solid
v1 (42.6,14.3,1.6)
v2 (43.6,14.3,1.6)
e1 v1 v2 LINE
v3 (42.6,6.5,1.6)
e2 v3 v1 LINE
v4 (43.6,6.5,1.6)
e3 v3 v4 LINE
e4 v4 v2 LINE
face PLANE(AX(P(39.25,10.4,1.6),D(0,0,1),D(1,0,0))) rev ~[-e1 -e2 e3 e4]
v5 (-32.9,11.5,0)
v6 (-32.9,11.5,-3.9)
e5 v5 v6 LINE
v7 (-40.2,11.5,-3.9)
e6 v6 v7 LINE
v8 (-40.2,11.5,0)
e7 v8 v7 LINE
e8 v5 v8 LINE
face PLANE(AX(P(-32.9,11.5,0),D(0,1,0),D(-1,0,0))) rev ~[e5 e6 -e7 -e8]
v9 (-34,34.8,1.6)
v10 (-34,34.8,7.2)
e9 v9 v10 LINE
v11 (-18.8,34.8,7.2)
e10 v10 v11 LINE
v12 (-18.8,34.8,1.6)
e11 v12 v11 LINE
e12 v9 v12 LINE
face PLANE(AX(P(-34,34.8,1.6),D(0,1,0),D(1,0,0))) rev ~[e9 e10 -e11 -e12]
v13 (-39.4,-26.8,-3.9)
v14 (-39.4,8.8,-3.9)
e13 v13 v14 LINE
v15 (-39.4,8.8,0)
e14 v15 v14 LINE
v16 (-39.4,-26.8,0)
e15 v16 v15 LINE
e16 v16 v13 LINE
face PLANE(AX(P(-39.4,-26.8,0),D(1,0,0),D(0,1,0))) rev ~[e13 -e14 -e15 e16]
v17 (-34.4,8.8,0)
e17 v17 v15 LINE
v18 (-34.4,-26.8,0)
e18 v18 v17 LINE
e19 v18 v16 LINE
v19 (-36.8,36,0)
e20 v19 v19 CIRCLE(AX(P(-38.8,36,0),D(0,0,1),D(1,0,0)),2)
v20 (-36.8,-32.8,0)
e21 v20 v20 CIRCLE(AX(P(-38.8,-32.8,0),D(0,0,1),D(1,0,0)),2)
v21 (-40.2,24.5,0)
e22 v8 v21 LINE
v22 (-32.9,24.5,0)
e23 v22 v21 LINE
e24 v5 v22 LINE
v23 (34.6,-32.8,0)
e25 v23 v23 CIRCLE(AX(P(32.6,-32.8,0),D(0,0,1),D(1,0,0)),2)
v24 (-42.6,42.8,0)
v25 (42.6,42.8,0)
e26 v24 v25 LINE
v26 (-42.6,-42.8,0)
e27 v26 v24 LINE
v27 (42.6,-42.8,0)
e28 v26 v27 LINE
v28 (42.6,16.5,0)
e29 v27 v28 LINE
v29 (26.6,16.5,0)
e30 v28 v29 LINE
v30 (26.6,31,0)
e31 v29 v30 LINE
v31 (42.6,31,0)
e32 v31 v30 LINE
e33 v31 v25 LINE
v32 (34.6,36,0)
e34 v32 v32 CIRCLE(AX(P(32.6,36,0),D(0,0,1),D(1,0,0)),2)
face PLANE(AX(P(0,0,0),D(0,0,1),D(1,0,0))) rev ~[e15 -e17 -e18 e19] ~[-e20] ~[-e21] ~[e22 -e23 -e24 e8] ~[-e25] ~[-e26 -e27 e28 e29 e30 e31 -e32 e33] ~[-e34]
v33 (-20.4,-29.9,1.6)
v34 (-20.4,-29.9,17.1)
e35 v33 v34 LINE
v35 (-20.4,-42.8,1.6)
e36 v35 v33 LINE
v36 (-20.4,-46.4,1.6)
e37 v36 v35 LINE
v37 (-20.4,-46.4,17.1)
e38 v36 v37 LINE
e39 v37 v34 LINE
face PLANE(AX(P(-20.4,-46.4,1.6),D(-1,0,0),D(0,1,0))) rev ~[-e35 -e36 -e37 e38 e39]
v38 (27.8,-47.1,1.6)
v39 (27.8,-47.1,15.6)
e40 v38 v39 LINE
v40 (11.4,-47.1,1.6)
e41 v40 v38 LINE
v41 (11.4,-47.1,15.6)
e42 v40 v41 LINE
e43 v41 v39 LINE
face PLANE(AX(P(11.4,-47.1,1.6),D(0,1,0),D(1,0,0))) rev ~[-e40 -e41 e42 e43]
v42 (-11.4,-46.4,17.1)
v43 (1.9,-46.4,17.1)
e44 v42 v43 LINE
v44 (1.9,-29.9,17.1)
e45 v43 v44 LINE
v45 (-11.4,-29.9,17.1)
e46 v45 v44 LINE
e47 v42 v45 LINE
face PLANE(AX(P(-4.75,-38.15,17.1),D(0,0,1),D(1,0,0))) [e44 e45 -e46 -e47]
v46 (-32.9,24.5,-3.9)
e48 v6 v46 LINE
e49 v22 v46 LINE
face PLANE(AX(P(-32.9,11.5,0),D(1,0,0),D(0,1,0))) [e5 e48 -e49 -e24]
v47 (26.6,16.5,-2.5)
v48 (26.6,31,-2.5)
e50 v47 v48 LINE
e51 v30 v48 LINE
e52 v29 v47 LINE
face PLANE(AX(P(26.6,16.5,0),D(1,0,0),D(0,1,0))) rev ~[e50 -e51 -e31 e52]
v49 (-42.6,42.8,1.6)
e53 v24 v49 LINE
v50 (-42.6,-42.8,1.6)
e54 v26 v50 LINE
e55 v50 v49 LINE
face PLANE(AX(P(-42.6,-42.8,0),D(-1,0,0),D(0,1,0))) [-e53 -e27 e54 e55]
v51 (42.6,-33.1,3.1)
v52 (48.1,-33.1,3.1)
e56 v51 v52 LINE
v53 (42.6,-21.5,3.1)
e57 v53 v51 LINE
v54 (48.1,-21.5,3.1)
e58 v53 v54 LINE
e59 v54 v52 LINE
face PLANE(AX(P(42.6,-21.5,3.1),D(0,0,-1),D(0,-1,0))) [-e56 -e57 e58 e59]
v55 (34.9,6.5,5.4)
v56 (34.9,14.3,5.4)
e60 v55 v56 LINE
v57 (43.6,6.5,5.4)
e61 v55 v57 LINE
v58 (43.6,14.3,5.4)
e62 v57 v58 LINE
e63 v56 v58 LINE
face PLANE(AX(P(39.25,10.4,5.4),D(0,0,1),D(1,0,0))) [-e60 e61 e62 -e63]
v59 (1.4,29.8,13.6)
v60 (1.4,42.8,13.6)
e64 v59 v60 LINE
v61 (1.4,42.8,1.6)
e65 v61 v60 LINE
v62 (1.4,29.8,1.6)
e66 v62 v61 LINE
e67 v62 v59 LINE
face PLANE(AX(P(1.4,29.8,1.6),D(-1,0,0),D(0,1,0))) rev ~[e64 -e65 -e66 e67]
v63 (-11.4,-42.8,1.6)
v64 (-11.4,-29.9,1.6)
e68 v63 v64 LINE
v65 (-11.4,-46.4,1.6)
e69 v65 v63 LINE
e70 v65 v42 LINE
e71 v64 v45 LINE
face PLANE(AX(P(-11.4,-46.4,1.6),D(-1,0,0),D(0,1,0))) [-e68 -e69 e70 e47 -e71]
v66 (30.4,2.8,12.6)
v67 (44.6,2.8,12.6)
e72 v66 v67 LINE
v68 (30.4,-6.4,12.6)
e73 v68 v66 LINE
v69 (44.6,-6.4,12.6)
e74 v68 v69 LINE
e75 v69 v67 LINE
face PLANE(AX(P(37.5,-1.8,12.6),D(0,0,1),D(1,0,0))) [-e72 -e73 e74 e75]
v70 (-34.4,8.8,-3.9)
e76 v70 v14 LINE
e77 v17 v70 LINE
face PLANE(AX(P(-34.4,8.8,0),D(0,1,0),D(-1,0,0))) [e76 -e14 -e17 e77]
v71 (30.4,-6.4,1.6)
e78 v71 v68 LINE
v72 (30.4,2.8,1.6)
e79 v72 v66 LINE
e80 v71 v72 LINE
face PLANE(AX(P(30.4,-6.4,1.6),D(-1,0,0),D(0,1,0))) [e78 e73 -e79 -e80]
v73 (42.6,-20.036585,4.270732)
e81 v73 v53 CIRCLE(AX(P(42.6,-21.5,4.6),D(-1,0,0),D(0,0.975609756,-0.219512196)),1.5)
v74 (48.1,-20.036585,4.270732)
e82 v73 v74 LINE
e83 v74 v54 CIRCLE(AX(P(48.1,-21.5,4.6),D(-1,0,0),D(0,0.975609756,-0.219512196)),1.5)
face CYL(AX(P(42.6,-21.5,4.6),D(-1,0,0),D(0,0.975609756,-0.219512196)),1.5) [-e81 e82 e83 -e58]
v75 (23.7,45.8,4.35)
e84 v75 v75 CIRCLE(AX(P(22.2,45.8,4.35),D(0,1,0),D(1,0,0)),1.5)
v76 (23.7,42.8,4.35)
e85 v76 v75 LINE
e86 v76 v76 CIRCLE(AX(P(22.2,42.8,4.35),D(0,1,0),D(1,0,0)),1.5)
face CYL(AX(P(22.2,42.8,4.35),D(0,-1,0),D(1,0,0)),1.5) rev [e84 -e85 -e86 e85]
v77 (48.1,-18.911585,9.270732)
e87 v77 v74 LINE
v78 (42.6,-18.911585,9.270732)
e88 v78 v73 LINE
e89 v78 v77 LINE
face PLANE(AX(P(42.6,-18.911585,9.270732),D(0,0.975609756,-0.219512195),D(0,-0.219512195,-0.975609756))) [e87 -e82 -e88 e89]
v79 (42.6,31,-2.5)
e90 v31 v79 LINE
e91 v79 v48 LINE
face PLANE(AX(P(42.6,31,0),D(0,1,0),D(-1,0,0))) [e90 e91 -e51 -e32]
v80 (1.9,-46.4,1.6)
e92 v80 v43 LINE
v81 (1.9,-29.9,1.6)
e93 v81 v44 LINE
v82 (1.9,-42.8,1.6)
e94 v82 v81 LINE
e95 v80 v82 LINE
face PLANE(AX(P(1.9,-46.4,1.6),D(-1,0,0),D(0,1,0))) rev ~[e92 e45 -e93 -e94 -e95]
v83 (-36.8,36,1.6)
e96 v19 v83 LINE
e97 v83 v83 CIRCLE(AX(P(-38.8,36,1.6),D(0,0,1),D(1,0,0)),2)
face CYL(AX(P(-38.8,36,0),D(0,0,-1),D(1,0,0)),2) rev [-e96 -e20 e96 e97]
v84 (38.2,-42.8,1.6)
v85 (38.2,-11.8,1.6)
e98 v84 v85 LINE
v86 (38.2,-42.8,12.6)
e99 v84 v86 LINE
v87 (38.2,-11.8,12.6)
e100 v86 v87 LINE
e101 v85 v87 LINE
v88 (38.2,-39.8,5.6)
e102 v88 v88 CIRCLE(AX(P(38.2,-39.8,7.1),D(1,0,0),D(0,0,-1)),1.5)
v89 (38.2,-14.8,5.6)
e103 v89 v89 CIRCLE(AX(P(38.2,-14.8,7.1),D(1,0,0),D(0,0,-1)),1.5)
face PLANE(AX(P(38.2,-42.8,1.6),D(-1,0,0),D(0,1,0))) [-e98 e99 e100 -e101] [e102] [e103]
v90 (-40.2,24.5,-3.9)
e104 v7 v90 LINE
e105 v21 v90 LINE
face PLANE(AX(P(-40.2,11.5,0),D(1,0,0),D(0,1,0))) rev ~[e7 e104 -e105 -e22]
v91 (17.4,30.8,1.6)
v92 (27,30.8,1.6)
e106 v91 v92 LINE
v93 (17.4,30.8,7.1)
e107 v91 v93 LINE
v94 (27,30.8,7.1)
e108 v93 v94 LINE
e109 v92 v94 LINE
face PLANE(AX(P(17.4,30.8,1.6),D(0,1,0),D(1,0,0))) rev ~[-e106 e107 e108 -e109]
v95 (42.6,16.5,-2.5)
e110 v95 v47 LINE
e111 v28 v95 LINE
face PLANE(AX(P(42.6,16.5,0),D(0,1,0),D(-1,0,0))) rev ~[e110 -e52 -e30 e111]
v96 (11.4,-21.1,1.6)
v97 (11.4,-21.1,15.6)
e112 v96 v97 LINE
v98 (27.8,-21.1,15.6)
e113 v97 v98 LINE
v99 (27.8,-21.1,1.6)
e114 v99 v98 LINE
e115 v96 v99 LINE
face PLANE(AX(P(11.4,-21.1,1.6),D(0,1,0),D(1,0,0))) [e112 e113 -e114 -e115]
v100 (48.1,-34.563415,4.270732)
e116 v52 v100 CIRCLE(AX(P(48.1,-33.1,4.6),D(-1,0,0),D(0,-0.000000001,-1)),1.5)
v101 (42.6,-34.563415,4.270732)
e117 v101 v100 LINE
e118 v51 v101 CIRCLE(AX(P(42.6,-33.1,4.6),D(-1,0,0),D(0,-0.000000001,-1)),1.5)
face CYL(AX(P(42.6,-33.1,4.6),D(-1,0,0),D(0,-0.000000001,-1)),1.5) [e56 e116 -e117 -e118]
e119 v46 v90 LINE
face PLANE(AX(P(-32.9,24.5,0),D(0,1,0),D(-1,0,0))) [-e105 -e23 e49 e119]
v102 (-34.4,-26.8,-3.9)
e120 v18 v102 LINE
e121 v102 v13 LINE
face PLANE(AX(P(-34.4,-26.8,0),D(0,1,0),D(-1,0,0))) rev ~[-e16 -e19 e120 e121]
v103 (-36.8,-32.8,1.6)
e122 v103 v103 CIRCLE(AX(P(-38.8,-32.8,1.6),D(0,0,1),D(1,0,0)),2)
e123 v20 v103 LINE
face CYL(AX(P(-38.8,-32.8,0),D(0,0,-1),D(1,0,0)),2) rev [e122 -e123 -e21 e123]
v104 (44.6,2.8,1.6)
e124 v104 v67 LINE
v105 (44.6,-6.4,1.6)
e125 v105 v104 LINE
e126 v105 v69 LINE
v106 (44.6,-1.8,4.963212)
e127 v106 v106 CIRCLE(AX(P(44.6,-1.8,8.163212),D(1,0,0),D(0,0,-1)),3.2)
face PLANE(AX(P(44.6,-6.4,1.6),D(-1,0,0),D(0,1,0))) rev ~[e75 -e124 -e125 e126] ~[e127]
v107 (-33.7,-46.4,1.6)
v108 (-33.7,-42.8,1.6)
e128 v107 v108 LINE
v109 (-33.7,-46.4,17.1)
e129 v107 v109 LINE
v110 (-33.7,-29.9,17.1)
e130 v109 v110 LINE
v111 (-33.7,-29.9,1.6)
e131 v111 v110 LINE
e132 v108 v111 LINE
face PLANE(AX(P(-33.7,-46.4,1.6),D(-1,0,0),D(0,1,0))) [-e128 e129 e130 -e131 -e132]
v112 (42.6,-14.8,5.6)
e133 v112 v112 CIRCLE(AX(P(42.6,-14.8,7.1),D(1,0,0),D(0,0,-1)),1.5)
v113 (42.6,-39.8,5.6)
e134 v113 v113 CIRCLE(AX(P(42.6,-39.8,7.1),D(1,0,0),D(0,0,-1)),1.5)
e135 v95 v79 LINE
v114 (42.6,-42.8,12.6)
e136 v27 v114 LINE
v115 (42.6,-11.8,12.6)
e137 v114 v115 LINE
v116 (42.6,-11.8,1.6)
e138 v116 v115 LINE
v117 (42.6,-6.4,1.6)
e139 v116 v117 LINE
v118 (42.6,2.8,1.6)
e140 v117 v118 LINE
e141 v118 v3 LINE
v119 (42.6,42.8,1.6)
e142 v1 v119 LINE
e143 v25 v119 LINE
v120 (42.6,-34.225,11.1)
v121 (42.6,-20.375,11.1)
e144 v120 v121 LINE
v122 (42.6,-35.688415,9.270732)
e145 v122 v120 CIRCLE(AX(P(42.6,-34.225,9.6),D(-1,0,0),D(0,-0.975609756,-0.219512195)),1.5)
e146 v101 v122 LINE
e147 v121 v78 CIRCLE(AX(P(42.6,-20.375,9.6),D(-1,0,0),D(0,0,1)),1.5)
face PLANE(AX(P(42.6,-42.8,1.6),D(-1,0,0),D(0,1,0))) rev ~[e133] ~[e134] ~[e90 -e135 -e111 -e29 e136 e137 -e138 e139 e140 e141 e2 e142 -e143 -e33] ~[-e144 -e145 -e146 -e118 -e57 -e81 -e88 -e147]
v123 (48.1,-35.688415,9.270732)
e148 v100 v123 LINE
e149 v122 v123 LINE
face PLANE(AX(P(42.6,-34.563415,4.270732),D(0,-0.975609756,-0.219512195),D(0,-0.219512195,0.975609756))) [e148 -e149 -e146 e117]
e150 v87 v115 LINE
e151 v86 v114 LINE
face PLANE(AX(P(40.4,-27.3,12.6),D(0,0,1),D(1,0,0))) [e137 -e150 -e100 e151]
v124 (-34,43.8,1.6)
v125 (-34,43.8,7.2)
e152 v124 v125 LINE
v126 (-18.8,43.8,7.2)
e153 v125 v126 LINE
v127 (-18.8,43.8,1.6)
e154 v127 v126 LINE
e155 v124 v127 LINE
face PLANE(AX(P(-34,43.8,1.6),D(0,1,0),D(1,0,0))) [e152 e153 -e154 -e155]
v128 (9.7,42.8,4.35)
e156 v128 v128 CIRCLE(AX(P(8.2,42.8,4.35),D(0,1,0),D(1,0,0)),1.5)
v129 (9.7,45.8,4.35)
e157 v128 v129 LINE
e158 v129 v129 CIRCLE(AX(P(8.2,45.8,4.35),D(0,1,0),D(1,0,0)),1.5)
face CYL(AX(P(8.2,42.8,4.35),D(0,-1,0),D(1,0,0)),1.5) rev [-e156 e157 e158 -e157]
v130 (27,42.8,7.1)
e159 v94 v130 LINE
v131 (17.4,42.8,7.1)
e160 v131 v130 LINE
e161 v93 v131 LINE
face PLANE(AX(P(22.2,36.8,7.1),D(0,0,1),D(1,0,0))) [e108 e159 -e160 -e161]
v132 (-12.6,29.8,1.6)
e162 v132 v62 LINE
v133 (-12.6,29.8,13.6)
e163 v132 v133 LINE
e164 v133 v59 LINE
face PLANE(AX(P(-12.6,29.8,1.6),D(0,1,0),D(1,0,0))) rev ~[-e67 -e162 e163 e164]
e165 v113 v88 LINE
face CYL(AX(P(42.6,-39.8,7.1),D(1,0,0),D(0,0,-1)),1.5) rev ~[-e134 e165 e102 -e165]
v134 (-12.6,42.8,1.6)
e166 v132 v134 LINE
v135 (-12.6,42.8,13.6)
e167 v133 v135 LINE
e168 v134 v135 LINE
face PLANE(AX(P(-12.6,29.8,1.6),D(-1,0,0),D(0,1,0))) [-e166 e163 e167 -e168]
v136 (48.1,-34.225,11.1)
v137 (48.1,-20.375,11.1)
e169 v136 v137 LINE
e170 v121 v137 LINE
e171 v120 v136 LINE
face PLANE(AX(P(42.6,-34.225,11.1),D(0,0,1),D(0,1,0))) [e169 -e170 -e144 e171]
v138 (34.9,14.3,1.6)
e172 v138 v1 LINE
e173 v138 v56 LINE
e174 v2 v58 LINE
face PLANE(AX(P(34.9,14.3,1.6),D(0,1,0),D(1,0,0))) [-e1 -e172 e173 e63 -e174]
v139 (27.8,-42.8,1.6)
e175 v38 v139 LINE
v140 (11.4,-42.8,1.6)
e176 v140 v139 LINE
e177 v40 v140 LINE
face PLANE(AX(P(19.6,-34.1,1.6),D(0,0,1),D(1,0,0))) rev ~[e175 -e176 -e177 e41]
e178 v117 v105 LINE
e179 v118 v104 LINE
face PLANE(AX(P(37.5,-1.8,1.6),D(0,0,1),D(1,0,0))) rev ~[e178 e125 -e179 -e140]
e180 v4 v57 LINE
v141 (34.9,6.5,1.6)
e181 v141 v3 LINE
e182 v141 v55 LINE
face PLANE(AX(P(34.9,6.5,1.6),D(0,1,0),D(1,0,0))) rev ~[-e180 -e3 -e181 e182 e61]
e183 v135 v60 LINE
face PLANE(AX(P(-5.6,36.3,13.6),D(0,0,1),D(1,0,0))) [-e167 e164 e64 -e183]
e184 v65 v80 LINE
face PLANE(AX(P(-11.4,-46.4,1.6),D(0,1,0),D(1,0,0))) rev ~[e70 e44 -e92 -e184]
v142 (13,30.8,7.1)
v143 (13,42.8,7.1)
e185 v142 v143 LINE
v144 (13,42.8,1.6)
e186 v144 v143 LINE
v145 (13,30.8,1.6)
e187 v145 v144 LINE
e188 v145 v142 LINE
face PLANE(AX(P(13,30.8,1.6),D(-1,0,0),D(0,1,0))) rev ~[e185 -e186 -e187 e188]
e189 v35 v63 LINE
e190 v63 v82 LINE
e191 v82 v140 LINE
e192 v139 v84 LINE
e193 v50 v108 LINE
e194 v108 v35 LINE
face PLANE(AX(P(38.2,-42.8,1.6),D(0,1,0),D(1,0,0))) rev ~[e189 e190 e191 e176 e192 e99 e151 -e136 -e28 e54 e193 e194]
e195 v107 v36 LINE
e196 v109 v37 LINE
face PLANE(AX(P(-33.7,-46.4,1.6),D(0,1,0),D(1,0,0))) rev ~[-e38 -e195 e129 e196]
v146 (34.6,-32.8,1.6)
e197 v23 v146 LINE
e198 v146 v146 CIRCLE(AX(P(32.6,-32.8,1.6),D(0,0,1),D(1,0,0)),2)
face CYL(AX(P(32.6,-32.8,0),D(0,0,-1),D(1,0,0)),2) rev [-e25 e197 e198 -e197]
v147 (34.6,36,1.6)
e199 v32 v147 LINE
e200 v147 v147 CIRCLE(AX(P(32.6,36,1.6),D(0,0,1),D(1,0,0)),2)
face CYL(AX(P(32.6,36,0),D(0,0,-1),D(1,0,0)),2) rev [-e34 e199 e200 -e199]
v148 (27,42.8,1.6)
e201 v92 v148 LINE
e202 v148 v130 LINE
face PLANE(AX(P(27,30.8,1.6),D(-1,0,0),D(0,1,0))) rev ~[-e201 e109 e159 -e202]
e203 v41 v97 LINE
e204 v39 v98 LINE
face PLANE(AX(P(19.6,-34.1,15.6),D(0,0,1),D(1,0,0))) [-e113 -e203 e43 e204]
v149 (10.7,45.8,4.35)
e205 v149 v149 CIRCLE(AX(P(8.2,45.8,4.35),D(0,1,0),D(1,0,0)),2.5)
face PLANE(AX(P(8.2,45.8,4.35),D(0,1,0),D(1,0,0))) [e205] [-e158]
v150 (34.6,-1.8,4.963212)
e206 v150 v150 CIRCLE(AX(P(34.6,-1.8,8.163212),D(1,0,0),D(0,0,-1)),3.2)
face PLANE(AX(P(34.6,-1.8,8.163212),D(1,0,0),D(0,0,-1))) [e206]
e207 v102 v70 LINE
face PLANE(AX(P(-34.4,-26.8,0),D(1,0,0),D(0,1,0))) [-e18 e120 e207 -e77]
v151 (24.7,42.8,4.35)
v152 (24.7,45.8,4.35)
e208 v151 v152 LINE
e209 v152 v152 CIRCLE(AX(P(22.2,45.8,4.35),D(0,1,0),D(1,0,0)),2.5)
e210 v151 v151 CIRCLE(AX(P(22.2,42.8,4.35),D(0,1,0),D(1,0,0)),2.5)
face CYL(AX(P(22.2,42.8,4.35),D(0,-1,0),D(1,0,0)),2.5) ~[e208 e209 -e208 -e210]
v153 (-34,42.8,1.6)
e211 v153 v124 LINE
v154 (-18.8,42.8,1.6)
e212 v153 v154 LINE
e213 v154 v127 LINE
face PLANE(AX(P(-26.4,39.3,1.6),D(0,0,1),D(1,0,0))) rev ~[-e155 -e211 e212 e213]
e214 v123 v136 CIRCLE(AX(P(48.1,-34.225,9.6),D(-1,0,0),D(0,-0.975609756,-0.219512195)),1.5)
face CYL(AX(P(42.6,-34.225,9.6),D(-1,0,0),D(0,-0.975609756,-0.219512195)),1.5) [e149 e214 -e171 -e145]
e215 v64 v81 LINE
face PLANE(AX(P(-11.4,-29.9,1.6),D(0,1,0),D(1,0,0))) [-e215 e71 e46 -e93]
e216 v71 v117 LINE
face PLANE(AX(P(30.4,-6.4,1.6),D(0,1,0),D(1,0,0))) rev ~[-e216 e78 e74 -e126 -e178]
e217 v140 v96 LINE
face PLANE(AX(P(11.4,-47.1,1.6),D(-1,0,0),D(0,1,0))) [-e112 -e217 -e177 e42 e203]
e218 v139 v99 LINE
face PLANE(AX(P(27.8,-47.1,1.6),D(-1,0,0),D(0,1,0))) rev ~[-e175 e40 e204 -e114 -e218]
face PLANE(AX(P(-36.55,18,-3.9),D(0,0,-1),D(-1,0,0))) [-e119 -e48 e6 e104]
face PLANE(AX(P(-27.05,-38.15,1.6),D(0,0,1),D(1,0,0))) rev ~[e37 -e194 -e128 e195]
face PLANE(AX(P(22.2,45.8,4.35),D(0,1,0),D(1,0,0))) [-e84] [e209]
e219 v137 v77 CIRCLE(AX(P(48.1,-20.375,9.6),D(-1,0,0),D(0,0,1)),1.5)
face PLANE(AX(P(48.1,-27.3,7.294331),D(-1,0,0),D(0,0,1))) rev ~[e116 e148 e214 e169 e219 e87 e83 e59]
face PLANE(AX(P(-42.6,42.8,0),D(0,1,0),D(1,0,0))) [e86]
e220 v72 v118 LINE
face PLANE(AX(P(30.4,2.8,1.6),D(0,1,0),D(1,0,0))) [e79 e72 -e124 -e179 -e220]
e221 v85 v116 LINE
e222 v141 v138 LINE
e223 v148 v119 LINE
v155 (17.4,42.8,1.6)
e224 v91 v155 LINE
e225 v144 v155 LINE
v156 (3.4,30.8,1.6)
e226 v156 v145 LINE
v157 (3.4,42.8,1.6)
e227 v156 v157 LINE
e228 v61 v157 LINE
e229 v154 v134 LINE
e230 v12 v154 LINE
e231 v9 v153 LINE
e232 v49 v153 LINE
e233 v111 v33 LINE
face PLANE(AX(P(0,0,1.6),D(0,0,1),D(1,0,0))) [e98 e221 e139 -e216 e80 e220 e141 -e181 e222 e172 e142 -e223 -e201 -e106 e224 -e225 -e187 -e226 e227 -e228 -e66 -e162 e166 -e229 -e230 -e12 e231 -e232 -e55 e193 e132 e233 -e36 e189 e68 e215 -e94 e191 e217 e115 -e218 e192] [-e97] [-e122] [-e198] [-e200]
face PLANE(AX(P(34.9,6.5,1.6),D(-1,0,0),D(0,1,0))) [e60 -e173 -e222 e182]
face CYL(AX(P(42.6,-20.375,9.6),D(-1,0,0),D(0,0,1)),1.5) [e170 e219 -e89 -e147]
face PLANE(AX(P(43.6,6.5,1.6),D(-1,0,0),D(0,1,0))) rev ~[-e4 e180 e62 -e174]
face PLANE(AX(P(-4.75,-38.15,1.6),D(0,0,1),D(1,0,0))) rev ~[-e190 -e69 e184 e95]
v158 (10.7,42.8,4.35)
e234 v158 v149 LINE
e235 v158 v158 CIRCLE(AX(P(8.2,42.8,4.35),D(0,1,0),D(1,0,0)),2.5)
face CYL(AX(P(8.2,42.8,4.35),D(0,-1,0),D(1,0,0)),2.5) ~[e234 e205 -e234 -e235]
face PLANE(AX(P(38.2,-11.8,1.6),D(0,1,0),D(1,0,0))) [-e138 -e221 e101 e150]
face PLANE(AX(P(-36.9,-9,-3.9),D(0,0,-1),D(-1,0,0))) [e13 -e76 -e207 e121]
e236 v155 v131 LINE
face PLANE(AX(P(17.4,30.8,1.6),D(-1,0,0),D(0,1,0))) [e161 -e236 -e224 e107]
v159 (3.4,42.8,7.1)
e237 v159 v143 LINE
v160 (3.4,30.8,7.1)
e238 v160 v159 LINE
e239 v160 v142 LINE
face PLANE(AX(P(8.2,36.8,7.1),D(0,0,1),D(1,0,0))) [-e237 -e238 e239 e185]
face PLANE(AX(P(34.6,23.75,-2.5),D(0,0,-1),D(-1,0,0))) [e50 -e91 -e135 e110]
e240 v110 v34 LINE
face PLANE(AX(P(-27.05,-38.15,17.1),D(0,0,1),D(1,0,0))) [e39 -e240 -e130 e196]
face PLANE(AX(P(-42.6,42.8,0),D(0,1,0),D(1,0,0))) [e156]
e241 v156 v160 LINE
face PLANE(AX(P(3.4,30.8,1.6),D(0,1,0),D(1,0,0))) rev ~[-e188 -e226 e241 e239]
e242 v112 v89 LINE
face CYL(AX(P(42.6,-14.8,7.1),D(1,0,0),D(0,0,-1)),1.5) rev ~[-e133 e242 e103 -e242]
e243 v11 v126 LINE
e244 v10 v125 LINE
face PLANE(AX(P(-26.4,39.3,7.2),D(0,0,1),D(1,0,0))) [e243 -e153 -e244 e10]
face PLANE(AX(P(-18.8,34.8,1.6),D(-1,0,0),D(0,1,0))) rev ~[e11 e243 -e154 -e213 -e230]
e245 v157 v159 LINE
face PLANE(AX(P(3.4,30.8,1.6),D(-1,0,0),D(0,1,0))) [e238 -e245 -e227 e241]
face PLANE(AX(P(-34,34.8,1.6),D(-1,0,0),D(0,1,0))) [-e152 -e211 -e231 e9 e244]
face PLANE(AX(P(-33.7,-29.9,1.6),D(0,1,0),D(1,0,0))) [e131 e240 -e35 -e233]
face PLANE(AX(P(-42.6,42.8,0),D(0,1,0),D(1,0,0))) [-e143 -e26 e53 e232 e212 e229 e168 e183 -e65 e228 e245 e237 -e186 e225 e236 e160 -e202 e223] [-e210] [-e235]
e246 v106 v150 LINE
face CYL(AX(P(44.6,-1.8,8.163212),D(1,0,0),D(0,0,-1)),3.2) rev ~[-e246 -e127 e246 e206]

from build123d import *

# Parameters (mm, degrees)
SCHIZZO1_W                    = 85.2
SCHIZZO1_H                    = 85.6
SCHIZZO1_R                    = 2
ESTRUSIONE_ESTRUSIONE1_DEPTH  = 1.6
SCHIZZO3_W                    = 15.2
SCHIZZO3_H                    = 9
ESTRUSIONE_ESTRUSIONE2_DEPTH  = 5.6
SCHIZZO4_W                    = 14
SCHIZZO4_H                    = 13
ESTRUSIONE_ESTRUSIONE3_DEPTH  = 12
SCHIZZO5_W                    = 9.6
SCHIZZO5_H                    = 12
ESTRUSIONE_ESTRUSIONE4_DEPTH  = 5.5
SCHIZZO6_R                    = 2.5
SCHIZZO6_R_2                  = 1.5
ESTRUSIONE_SOTTILE1_DEPTH     = 3
SCHIZZO7_W                    = 16
SCHIZZO7_H                    = 14.5
ESTRUSIONE_ESTRUSIONE5_DEPTH  = 2.5
SCHIZZO8_W                    = 8.7
SCHIZZO8_H                    = 7.8
ESTRUSIONE_ESTRUSIONE6_DEPTH  = 3.8
SCHIZZO9_W                    = 14.2
SCHIZZO9_H                    = 9.2
ESTRUSIONE_ESTRUSIONE7_DEPTH  = 11
SCHIZZO10_R                   = 3.2
TAGLIO_ESTRUSIONE1_DEPTH      = 10
SCHIZZO11_W                   = 4.4
SCHIZZO11_H                   = 31
ESTRUSIONE_ESTRUSIONE8_DEPTH  = 11
ESTRUSIONE_ESTRUSIONE9_DEPTH  = 5.5
SCHIZZO14_R                   = 1.5
TAGLIO_ESTRUSIONE2_DEPTH      = 5.5
SCHIZZO15_W                   = 16.4
SCHIZZO15_H                   = 26
ESTRUSIONE_ESTRUSIONE10_DEPTH = 14
SCHIZZO16_W                   = 13.3
SCHIZZO16_H                   = 16.5
ESTRUSIONE_ESTRUSIONE11_DEPTH = 15.5
SCHIZZO17_W                   = 7.3
SCHIZZO17_H                   = 13
SCHIZZO17_W_2                 = 5
SCHIZZO17_H_2                 = 35.6
ESTRUSIONE_ESTRUSIONE12_DEPTH = 3.9


with BuildPart() as part:
    # Schizzo1 → Estrusione-Estrusione1 (new body)
    with BuildSketch(Plane.XY):
        Rectangle(SCHIZZO1_W, SCHIZZO1_H)
        with Locations((-38.8, 36)):
            Circle(SCHIZZO1_R, mode=Mode.SUBTRACT)
        with Locations((32.6, 36)):
            Circle(SCHIZZO1_R, mode=Mode.SUBTRACT)
        with Locations((-38.8, -32.8)):
            Circle(SCHIZZO1_R, mode=Mode.SUBTRACT)
        with Locations((32.6, -32.8)):
            Circle(SCHIZZO1_R, mode=Mode.SUBTRACT)
    extrude(amount=ESTRUSIONE_ESTRUSIONE1_DEPTH)

    # Schizzo3 → Estrusione-Estrusione2 (add)
    with BuildSketch(Plane.XY.offset(1.6)):
        with Locations((-26.4, 39.3)):
            Rectangle(SCHIZZO3_W, SCHIZZO3_H)
    extrude(amount=ESTRUSIONE_ESTRUSIONE2_DEPTH)

    # Schizzo4 → Estrusione-Estrusione3 (add)
    with BuildSketch(Plane.XY.offset(1.6)):
        with Locations((-5.6, 36.3)):
            Rectangle(SCHIZZO4_W, SCHIZZO4_H)
    extrude(amount=ESTRUSIONE_ESTRUSIONE3_DEPTH)

    # Schizzo5 → Estrusione-Estrusione4 (add)
    with BuildSketch(Plane.XY.offset(1.6)):
        with Locations((8.2, 36.8)):
            Rectangle(SCHIZZO5_W, SCHIZZO5_H)
        with Locations((22.2, 36.8)):
            Rectangle(SCHIZZO5_W, SCHIZZO5_H)
    extrude(amount=ESTRUSIONE_ESTRUSIONE4_DEPTH)

    # Schizzo6 → Estrusione-Sottile1 (add)
    # profile 1 of 2: a face of its own
    with BuildSketch(Plane(origin=(0, 42.8, 0), x_dir=(1, 0, 0), z_dir=(0, 1, 0))):
        with Locations((8.2, -4.35)):
            Circle(SCHIZZO6_R)
        with Locations((8.2, -4.35)):
            Circle(SCHIZZO6_R_2, mode=Mode.SUBTRACT)
    # profile 2 of 2: a face of its own
    with BuildSketch(Plane(origin=(0, 42.8, 0), x_dir=(1, 0, 0), z_dir=(0, 1, 0))):
        with Locations((22.2, -4.35)):
            Circle(SCHIZZO6_R)
        with Locations((22.2, -4.35)):
            Circle(SCHIZZO6_R_2, mode=Mode.SUBTRACT)
    extrude(amount=ESTRUSIONE_SOTTILE1_DEPTH)

    # Schizzo7 → Estrusione-Estrusione5 (add)
    with BuildSketch(Plane(origin=(0, 0, 0), x_dir=(-1, 0, 0), z_dir=(0, 0, -1))):
        with Locations((-34.6, 23.75)):
            Rectangle(SCHIZZO7_W, SCHIZZO7_H)
    extrude(amount=ESTRUSIONE_ESTRUSIONE5_DEPTH)

    # Schizzo8 → Estrusione-Estrusione6 (add)
    with BuildSketch(Plane.XY.offset(1.6)):
        with Locations((39.25, 10.4)):
            Rectangle(SCHIZZO8_W, SCHIZZO8_H)
    extrude(amount=ESTRUSIONE_ESTRUSIONE6_DEPTH)

    # Schizzo9 → Estrusione-Estrusione7 (add)
    with BuildSketch(Plane.XY.offset(1.6)):
        with Locations((37.5, -1.8)):
            Rectangle(SCHIZZO9_W, SCHIZZO9_H)
    extrude(amount=ESTRUSIONE_ESTRUSIONE7_DEPTH)

    # Schizzo10 → Taglio-Estrusione1 (cut)
    with BuildSketch(Plane(origin=(44.6, 0, 0), x_dir=(0, 0, -1), z_dir=(1, 0, 0))):
        with Locations((-8.163212145, -1.8)):
            Circle(SCHIZZO10_R)
    extrude(amount=-TAGLIO_ESTRUSIONE1_DEPTH, mode=Mode.SUBTRACT)

    # Schizzo11 → Estrusione-Estrusione8 (add)
    with BuildSketch(Plane.XY.offset(1.6)):
        with Locations((40.4, -27.3)):
            Rectangle(SCHIZZO11_W, SCHIZZO11_H)
    extrude(amount=ESTRUSIONE_ESTRUSIONE8_DEPTH)

    # Schizzo12 → Estrusione-Estrusione9 (add)
    with BuildSketch(Plane(origin=(42.6, 0, 0), x_dir=(0, 0, -1), z_dir=(1, 0, 0))):
        with BuildLine():
            Line((-11.1, -34.225), (-11.1, -20.375))
            ThreePointArc((-11.1, -20.375), (-10.537042571, -19.203696786), (-9.270731707, -18.911585366))
            Line((-9.270731707, -18.911585366), (-4.270731707, -20.036585366))
            ThreePointArc((-4.270731707, -20.036585366), (-3.428696786, -20.562957429), (-3.1, -21.5))
            Line((-3.1, -21.5), (-3.1, -33.1))
            ThreePointArc((-3.1, -33.1), (-3.428696786, -34.037042571), (-4.270731707, -34.563414634))
            Line((-4.270731707, -34.563414634), (-9.270731707, -35.688414634))
            ThreePointArc((-9.270731707, -35.688414634), (-10.537042571, -35.396303214), (-11.1, -34.225))
        make_face()
    extrude(amount=ESTRUSIONE_ESTRUSIONE9_DEPTH)

    # Schizzo14 → Taglio-Estrusione2 (cut)
    with BuildSketch(Plane(origin=(42.6, 0, 0), x_dir=(0, 0, -1), z_dir=(1, 0, 0))):
        with Locations((-7.1, -14.8)):
            Circle(SCHIZZO14_R)
        with Locations((-7.1, -39.8)):
            Circle(SCHIZZO14_R)
    extrude(amount=-TAGLIO_ESTRUSIONE2_DEPTH, mode=Mode.SUBTRACT)

    # Schizzo15 → Estrusione-Estrusione10 (add)
    with BuildSketch(Plane.XY.offset(1.6)):
        with Locations((19.6, -34.1)):
            Rectangle(SCHIZZO15_W, SCHIZZO15_H)
    extrude(amount=ESTRUSIONE_ESTRUSIONE10_DEPTH)

    # Schizzo16 → Estrusione-Estrusione11 (add)
    with BuildSketch(Plane.XY.offset(1.6)):
        with Locations((-27.05, -38.15)):
            Rectangle(SCHIZZO16_W, SCHIZZO16_H)
        with Locations((-4.75, -38.15)):
            Rectangle(SCHIZZO16_W, SCHIZZO16_H)
    extrude(amount=ESTRUSIONE_ESTRUSIONE11_DEPTH)

    # Schizzo17 → Estrusione-Estrusione12 (add)
    with BuildSketch(Plane(origin=(0, 0, 0), x_dir=(-1, 0, 0), z_dir=(0, 0, -1))):
        with Locations((36.55, 18)):
            Rectangle(SCHIZZO17_W, SCHIZZO17_H)
        with Locations((36.9, -9)):
            Rectangle(SCHIZZO17_W_2, SCHIZZO17_H_2)
    extrude(amount=ESTRUSIONE_ESTRUSIONE12_DEPTH)


solid = part.part
